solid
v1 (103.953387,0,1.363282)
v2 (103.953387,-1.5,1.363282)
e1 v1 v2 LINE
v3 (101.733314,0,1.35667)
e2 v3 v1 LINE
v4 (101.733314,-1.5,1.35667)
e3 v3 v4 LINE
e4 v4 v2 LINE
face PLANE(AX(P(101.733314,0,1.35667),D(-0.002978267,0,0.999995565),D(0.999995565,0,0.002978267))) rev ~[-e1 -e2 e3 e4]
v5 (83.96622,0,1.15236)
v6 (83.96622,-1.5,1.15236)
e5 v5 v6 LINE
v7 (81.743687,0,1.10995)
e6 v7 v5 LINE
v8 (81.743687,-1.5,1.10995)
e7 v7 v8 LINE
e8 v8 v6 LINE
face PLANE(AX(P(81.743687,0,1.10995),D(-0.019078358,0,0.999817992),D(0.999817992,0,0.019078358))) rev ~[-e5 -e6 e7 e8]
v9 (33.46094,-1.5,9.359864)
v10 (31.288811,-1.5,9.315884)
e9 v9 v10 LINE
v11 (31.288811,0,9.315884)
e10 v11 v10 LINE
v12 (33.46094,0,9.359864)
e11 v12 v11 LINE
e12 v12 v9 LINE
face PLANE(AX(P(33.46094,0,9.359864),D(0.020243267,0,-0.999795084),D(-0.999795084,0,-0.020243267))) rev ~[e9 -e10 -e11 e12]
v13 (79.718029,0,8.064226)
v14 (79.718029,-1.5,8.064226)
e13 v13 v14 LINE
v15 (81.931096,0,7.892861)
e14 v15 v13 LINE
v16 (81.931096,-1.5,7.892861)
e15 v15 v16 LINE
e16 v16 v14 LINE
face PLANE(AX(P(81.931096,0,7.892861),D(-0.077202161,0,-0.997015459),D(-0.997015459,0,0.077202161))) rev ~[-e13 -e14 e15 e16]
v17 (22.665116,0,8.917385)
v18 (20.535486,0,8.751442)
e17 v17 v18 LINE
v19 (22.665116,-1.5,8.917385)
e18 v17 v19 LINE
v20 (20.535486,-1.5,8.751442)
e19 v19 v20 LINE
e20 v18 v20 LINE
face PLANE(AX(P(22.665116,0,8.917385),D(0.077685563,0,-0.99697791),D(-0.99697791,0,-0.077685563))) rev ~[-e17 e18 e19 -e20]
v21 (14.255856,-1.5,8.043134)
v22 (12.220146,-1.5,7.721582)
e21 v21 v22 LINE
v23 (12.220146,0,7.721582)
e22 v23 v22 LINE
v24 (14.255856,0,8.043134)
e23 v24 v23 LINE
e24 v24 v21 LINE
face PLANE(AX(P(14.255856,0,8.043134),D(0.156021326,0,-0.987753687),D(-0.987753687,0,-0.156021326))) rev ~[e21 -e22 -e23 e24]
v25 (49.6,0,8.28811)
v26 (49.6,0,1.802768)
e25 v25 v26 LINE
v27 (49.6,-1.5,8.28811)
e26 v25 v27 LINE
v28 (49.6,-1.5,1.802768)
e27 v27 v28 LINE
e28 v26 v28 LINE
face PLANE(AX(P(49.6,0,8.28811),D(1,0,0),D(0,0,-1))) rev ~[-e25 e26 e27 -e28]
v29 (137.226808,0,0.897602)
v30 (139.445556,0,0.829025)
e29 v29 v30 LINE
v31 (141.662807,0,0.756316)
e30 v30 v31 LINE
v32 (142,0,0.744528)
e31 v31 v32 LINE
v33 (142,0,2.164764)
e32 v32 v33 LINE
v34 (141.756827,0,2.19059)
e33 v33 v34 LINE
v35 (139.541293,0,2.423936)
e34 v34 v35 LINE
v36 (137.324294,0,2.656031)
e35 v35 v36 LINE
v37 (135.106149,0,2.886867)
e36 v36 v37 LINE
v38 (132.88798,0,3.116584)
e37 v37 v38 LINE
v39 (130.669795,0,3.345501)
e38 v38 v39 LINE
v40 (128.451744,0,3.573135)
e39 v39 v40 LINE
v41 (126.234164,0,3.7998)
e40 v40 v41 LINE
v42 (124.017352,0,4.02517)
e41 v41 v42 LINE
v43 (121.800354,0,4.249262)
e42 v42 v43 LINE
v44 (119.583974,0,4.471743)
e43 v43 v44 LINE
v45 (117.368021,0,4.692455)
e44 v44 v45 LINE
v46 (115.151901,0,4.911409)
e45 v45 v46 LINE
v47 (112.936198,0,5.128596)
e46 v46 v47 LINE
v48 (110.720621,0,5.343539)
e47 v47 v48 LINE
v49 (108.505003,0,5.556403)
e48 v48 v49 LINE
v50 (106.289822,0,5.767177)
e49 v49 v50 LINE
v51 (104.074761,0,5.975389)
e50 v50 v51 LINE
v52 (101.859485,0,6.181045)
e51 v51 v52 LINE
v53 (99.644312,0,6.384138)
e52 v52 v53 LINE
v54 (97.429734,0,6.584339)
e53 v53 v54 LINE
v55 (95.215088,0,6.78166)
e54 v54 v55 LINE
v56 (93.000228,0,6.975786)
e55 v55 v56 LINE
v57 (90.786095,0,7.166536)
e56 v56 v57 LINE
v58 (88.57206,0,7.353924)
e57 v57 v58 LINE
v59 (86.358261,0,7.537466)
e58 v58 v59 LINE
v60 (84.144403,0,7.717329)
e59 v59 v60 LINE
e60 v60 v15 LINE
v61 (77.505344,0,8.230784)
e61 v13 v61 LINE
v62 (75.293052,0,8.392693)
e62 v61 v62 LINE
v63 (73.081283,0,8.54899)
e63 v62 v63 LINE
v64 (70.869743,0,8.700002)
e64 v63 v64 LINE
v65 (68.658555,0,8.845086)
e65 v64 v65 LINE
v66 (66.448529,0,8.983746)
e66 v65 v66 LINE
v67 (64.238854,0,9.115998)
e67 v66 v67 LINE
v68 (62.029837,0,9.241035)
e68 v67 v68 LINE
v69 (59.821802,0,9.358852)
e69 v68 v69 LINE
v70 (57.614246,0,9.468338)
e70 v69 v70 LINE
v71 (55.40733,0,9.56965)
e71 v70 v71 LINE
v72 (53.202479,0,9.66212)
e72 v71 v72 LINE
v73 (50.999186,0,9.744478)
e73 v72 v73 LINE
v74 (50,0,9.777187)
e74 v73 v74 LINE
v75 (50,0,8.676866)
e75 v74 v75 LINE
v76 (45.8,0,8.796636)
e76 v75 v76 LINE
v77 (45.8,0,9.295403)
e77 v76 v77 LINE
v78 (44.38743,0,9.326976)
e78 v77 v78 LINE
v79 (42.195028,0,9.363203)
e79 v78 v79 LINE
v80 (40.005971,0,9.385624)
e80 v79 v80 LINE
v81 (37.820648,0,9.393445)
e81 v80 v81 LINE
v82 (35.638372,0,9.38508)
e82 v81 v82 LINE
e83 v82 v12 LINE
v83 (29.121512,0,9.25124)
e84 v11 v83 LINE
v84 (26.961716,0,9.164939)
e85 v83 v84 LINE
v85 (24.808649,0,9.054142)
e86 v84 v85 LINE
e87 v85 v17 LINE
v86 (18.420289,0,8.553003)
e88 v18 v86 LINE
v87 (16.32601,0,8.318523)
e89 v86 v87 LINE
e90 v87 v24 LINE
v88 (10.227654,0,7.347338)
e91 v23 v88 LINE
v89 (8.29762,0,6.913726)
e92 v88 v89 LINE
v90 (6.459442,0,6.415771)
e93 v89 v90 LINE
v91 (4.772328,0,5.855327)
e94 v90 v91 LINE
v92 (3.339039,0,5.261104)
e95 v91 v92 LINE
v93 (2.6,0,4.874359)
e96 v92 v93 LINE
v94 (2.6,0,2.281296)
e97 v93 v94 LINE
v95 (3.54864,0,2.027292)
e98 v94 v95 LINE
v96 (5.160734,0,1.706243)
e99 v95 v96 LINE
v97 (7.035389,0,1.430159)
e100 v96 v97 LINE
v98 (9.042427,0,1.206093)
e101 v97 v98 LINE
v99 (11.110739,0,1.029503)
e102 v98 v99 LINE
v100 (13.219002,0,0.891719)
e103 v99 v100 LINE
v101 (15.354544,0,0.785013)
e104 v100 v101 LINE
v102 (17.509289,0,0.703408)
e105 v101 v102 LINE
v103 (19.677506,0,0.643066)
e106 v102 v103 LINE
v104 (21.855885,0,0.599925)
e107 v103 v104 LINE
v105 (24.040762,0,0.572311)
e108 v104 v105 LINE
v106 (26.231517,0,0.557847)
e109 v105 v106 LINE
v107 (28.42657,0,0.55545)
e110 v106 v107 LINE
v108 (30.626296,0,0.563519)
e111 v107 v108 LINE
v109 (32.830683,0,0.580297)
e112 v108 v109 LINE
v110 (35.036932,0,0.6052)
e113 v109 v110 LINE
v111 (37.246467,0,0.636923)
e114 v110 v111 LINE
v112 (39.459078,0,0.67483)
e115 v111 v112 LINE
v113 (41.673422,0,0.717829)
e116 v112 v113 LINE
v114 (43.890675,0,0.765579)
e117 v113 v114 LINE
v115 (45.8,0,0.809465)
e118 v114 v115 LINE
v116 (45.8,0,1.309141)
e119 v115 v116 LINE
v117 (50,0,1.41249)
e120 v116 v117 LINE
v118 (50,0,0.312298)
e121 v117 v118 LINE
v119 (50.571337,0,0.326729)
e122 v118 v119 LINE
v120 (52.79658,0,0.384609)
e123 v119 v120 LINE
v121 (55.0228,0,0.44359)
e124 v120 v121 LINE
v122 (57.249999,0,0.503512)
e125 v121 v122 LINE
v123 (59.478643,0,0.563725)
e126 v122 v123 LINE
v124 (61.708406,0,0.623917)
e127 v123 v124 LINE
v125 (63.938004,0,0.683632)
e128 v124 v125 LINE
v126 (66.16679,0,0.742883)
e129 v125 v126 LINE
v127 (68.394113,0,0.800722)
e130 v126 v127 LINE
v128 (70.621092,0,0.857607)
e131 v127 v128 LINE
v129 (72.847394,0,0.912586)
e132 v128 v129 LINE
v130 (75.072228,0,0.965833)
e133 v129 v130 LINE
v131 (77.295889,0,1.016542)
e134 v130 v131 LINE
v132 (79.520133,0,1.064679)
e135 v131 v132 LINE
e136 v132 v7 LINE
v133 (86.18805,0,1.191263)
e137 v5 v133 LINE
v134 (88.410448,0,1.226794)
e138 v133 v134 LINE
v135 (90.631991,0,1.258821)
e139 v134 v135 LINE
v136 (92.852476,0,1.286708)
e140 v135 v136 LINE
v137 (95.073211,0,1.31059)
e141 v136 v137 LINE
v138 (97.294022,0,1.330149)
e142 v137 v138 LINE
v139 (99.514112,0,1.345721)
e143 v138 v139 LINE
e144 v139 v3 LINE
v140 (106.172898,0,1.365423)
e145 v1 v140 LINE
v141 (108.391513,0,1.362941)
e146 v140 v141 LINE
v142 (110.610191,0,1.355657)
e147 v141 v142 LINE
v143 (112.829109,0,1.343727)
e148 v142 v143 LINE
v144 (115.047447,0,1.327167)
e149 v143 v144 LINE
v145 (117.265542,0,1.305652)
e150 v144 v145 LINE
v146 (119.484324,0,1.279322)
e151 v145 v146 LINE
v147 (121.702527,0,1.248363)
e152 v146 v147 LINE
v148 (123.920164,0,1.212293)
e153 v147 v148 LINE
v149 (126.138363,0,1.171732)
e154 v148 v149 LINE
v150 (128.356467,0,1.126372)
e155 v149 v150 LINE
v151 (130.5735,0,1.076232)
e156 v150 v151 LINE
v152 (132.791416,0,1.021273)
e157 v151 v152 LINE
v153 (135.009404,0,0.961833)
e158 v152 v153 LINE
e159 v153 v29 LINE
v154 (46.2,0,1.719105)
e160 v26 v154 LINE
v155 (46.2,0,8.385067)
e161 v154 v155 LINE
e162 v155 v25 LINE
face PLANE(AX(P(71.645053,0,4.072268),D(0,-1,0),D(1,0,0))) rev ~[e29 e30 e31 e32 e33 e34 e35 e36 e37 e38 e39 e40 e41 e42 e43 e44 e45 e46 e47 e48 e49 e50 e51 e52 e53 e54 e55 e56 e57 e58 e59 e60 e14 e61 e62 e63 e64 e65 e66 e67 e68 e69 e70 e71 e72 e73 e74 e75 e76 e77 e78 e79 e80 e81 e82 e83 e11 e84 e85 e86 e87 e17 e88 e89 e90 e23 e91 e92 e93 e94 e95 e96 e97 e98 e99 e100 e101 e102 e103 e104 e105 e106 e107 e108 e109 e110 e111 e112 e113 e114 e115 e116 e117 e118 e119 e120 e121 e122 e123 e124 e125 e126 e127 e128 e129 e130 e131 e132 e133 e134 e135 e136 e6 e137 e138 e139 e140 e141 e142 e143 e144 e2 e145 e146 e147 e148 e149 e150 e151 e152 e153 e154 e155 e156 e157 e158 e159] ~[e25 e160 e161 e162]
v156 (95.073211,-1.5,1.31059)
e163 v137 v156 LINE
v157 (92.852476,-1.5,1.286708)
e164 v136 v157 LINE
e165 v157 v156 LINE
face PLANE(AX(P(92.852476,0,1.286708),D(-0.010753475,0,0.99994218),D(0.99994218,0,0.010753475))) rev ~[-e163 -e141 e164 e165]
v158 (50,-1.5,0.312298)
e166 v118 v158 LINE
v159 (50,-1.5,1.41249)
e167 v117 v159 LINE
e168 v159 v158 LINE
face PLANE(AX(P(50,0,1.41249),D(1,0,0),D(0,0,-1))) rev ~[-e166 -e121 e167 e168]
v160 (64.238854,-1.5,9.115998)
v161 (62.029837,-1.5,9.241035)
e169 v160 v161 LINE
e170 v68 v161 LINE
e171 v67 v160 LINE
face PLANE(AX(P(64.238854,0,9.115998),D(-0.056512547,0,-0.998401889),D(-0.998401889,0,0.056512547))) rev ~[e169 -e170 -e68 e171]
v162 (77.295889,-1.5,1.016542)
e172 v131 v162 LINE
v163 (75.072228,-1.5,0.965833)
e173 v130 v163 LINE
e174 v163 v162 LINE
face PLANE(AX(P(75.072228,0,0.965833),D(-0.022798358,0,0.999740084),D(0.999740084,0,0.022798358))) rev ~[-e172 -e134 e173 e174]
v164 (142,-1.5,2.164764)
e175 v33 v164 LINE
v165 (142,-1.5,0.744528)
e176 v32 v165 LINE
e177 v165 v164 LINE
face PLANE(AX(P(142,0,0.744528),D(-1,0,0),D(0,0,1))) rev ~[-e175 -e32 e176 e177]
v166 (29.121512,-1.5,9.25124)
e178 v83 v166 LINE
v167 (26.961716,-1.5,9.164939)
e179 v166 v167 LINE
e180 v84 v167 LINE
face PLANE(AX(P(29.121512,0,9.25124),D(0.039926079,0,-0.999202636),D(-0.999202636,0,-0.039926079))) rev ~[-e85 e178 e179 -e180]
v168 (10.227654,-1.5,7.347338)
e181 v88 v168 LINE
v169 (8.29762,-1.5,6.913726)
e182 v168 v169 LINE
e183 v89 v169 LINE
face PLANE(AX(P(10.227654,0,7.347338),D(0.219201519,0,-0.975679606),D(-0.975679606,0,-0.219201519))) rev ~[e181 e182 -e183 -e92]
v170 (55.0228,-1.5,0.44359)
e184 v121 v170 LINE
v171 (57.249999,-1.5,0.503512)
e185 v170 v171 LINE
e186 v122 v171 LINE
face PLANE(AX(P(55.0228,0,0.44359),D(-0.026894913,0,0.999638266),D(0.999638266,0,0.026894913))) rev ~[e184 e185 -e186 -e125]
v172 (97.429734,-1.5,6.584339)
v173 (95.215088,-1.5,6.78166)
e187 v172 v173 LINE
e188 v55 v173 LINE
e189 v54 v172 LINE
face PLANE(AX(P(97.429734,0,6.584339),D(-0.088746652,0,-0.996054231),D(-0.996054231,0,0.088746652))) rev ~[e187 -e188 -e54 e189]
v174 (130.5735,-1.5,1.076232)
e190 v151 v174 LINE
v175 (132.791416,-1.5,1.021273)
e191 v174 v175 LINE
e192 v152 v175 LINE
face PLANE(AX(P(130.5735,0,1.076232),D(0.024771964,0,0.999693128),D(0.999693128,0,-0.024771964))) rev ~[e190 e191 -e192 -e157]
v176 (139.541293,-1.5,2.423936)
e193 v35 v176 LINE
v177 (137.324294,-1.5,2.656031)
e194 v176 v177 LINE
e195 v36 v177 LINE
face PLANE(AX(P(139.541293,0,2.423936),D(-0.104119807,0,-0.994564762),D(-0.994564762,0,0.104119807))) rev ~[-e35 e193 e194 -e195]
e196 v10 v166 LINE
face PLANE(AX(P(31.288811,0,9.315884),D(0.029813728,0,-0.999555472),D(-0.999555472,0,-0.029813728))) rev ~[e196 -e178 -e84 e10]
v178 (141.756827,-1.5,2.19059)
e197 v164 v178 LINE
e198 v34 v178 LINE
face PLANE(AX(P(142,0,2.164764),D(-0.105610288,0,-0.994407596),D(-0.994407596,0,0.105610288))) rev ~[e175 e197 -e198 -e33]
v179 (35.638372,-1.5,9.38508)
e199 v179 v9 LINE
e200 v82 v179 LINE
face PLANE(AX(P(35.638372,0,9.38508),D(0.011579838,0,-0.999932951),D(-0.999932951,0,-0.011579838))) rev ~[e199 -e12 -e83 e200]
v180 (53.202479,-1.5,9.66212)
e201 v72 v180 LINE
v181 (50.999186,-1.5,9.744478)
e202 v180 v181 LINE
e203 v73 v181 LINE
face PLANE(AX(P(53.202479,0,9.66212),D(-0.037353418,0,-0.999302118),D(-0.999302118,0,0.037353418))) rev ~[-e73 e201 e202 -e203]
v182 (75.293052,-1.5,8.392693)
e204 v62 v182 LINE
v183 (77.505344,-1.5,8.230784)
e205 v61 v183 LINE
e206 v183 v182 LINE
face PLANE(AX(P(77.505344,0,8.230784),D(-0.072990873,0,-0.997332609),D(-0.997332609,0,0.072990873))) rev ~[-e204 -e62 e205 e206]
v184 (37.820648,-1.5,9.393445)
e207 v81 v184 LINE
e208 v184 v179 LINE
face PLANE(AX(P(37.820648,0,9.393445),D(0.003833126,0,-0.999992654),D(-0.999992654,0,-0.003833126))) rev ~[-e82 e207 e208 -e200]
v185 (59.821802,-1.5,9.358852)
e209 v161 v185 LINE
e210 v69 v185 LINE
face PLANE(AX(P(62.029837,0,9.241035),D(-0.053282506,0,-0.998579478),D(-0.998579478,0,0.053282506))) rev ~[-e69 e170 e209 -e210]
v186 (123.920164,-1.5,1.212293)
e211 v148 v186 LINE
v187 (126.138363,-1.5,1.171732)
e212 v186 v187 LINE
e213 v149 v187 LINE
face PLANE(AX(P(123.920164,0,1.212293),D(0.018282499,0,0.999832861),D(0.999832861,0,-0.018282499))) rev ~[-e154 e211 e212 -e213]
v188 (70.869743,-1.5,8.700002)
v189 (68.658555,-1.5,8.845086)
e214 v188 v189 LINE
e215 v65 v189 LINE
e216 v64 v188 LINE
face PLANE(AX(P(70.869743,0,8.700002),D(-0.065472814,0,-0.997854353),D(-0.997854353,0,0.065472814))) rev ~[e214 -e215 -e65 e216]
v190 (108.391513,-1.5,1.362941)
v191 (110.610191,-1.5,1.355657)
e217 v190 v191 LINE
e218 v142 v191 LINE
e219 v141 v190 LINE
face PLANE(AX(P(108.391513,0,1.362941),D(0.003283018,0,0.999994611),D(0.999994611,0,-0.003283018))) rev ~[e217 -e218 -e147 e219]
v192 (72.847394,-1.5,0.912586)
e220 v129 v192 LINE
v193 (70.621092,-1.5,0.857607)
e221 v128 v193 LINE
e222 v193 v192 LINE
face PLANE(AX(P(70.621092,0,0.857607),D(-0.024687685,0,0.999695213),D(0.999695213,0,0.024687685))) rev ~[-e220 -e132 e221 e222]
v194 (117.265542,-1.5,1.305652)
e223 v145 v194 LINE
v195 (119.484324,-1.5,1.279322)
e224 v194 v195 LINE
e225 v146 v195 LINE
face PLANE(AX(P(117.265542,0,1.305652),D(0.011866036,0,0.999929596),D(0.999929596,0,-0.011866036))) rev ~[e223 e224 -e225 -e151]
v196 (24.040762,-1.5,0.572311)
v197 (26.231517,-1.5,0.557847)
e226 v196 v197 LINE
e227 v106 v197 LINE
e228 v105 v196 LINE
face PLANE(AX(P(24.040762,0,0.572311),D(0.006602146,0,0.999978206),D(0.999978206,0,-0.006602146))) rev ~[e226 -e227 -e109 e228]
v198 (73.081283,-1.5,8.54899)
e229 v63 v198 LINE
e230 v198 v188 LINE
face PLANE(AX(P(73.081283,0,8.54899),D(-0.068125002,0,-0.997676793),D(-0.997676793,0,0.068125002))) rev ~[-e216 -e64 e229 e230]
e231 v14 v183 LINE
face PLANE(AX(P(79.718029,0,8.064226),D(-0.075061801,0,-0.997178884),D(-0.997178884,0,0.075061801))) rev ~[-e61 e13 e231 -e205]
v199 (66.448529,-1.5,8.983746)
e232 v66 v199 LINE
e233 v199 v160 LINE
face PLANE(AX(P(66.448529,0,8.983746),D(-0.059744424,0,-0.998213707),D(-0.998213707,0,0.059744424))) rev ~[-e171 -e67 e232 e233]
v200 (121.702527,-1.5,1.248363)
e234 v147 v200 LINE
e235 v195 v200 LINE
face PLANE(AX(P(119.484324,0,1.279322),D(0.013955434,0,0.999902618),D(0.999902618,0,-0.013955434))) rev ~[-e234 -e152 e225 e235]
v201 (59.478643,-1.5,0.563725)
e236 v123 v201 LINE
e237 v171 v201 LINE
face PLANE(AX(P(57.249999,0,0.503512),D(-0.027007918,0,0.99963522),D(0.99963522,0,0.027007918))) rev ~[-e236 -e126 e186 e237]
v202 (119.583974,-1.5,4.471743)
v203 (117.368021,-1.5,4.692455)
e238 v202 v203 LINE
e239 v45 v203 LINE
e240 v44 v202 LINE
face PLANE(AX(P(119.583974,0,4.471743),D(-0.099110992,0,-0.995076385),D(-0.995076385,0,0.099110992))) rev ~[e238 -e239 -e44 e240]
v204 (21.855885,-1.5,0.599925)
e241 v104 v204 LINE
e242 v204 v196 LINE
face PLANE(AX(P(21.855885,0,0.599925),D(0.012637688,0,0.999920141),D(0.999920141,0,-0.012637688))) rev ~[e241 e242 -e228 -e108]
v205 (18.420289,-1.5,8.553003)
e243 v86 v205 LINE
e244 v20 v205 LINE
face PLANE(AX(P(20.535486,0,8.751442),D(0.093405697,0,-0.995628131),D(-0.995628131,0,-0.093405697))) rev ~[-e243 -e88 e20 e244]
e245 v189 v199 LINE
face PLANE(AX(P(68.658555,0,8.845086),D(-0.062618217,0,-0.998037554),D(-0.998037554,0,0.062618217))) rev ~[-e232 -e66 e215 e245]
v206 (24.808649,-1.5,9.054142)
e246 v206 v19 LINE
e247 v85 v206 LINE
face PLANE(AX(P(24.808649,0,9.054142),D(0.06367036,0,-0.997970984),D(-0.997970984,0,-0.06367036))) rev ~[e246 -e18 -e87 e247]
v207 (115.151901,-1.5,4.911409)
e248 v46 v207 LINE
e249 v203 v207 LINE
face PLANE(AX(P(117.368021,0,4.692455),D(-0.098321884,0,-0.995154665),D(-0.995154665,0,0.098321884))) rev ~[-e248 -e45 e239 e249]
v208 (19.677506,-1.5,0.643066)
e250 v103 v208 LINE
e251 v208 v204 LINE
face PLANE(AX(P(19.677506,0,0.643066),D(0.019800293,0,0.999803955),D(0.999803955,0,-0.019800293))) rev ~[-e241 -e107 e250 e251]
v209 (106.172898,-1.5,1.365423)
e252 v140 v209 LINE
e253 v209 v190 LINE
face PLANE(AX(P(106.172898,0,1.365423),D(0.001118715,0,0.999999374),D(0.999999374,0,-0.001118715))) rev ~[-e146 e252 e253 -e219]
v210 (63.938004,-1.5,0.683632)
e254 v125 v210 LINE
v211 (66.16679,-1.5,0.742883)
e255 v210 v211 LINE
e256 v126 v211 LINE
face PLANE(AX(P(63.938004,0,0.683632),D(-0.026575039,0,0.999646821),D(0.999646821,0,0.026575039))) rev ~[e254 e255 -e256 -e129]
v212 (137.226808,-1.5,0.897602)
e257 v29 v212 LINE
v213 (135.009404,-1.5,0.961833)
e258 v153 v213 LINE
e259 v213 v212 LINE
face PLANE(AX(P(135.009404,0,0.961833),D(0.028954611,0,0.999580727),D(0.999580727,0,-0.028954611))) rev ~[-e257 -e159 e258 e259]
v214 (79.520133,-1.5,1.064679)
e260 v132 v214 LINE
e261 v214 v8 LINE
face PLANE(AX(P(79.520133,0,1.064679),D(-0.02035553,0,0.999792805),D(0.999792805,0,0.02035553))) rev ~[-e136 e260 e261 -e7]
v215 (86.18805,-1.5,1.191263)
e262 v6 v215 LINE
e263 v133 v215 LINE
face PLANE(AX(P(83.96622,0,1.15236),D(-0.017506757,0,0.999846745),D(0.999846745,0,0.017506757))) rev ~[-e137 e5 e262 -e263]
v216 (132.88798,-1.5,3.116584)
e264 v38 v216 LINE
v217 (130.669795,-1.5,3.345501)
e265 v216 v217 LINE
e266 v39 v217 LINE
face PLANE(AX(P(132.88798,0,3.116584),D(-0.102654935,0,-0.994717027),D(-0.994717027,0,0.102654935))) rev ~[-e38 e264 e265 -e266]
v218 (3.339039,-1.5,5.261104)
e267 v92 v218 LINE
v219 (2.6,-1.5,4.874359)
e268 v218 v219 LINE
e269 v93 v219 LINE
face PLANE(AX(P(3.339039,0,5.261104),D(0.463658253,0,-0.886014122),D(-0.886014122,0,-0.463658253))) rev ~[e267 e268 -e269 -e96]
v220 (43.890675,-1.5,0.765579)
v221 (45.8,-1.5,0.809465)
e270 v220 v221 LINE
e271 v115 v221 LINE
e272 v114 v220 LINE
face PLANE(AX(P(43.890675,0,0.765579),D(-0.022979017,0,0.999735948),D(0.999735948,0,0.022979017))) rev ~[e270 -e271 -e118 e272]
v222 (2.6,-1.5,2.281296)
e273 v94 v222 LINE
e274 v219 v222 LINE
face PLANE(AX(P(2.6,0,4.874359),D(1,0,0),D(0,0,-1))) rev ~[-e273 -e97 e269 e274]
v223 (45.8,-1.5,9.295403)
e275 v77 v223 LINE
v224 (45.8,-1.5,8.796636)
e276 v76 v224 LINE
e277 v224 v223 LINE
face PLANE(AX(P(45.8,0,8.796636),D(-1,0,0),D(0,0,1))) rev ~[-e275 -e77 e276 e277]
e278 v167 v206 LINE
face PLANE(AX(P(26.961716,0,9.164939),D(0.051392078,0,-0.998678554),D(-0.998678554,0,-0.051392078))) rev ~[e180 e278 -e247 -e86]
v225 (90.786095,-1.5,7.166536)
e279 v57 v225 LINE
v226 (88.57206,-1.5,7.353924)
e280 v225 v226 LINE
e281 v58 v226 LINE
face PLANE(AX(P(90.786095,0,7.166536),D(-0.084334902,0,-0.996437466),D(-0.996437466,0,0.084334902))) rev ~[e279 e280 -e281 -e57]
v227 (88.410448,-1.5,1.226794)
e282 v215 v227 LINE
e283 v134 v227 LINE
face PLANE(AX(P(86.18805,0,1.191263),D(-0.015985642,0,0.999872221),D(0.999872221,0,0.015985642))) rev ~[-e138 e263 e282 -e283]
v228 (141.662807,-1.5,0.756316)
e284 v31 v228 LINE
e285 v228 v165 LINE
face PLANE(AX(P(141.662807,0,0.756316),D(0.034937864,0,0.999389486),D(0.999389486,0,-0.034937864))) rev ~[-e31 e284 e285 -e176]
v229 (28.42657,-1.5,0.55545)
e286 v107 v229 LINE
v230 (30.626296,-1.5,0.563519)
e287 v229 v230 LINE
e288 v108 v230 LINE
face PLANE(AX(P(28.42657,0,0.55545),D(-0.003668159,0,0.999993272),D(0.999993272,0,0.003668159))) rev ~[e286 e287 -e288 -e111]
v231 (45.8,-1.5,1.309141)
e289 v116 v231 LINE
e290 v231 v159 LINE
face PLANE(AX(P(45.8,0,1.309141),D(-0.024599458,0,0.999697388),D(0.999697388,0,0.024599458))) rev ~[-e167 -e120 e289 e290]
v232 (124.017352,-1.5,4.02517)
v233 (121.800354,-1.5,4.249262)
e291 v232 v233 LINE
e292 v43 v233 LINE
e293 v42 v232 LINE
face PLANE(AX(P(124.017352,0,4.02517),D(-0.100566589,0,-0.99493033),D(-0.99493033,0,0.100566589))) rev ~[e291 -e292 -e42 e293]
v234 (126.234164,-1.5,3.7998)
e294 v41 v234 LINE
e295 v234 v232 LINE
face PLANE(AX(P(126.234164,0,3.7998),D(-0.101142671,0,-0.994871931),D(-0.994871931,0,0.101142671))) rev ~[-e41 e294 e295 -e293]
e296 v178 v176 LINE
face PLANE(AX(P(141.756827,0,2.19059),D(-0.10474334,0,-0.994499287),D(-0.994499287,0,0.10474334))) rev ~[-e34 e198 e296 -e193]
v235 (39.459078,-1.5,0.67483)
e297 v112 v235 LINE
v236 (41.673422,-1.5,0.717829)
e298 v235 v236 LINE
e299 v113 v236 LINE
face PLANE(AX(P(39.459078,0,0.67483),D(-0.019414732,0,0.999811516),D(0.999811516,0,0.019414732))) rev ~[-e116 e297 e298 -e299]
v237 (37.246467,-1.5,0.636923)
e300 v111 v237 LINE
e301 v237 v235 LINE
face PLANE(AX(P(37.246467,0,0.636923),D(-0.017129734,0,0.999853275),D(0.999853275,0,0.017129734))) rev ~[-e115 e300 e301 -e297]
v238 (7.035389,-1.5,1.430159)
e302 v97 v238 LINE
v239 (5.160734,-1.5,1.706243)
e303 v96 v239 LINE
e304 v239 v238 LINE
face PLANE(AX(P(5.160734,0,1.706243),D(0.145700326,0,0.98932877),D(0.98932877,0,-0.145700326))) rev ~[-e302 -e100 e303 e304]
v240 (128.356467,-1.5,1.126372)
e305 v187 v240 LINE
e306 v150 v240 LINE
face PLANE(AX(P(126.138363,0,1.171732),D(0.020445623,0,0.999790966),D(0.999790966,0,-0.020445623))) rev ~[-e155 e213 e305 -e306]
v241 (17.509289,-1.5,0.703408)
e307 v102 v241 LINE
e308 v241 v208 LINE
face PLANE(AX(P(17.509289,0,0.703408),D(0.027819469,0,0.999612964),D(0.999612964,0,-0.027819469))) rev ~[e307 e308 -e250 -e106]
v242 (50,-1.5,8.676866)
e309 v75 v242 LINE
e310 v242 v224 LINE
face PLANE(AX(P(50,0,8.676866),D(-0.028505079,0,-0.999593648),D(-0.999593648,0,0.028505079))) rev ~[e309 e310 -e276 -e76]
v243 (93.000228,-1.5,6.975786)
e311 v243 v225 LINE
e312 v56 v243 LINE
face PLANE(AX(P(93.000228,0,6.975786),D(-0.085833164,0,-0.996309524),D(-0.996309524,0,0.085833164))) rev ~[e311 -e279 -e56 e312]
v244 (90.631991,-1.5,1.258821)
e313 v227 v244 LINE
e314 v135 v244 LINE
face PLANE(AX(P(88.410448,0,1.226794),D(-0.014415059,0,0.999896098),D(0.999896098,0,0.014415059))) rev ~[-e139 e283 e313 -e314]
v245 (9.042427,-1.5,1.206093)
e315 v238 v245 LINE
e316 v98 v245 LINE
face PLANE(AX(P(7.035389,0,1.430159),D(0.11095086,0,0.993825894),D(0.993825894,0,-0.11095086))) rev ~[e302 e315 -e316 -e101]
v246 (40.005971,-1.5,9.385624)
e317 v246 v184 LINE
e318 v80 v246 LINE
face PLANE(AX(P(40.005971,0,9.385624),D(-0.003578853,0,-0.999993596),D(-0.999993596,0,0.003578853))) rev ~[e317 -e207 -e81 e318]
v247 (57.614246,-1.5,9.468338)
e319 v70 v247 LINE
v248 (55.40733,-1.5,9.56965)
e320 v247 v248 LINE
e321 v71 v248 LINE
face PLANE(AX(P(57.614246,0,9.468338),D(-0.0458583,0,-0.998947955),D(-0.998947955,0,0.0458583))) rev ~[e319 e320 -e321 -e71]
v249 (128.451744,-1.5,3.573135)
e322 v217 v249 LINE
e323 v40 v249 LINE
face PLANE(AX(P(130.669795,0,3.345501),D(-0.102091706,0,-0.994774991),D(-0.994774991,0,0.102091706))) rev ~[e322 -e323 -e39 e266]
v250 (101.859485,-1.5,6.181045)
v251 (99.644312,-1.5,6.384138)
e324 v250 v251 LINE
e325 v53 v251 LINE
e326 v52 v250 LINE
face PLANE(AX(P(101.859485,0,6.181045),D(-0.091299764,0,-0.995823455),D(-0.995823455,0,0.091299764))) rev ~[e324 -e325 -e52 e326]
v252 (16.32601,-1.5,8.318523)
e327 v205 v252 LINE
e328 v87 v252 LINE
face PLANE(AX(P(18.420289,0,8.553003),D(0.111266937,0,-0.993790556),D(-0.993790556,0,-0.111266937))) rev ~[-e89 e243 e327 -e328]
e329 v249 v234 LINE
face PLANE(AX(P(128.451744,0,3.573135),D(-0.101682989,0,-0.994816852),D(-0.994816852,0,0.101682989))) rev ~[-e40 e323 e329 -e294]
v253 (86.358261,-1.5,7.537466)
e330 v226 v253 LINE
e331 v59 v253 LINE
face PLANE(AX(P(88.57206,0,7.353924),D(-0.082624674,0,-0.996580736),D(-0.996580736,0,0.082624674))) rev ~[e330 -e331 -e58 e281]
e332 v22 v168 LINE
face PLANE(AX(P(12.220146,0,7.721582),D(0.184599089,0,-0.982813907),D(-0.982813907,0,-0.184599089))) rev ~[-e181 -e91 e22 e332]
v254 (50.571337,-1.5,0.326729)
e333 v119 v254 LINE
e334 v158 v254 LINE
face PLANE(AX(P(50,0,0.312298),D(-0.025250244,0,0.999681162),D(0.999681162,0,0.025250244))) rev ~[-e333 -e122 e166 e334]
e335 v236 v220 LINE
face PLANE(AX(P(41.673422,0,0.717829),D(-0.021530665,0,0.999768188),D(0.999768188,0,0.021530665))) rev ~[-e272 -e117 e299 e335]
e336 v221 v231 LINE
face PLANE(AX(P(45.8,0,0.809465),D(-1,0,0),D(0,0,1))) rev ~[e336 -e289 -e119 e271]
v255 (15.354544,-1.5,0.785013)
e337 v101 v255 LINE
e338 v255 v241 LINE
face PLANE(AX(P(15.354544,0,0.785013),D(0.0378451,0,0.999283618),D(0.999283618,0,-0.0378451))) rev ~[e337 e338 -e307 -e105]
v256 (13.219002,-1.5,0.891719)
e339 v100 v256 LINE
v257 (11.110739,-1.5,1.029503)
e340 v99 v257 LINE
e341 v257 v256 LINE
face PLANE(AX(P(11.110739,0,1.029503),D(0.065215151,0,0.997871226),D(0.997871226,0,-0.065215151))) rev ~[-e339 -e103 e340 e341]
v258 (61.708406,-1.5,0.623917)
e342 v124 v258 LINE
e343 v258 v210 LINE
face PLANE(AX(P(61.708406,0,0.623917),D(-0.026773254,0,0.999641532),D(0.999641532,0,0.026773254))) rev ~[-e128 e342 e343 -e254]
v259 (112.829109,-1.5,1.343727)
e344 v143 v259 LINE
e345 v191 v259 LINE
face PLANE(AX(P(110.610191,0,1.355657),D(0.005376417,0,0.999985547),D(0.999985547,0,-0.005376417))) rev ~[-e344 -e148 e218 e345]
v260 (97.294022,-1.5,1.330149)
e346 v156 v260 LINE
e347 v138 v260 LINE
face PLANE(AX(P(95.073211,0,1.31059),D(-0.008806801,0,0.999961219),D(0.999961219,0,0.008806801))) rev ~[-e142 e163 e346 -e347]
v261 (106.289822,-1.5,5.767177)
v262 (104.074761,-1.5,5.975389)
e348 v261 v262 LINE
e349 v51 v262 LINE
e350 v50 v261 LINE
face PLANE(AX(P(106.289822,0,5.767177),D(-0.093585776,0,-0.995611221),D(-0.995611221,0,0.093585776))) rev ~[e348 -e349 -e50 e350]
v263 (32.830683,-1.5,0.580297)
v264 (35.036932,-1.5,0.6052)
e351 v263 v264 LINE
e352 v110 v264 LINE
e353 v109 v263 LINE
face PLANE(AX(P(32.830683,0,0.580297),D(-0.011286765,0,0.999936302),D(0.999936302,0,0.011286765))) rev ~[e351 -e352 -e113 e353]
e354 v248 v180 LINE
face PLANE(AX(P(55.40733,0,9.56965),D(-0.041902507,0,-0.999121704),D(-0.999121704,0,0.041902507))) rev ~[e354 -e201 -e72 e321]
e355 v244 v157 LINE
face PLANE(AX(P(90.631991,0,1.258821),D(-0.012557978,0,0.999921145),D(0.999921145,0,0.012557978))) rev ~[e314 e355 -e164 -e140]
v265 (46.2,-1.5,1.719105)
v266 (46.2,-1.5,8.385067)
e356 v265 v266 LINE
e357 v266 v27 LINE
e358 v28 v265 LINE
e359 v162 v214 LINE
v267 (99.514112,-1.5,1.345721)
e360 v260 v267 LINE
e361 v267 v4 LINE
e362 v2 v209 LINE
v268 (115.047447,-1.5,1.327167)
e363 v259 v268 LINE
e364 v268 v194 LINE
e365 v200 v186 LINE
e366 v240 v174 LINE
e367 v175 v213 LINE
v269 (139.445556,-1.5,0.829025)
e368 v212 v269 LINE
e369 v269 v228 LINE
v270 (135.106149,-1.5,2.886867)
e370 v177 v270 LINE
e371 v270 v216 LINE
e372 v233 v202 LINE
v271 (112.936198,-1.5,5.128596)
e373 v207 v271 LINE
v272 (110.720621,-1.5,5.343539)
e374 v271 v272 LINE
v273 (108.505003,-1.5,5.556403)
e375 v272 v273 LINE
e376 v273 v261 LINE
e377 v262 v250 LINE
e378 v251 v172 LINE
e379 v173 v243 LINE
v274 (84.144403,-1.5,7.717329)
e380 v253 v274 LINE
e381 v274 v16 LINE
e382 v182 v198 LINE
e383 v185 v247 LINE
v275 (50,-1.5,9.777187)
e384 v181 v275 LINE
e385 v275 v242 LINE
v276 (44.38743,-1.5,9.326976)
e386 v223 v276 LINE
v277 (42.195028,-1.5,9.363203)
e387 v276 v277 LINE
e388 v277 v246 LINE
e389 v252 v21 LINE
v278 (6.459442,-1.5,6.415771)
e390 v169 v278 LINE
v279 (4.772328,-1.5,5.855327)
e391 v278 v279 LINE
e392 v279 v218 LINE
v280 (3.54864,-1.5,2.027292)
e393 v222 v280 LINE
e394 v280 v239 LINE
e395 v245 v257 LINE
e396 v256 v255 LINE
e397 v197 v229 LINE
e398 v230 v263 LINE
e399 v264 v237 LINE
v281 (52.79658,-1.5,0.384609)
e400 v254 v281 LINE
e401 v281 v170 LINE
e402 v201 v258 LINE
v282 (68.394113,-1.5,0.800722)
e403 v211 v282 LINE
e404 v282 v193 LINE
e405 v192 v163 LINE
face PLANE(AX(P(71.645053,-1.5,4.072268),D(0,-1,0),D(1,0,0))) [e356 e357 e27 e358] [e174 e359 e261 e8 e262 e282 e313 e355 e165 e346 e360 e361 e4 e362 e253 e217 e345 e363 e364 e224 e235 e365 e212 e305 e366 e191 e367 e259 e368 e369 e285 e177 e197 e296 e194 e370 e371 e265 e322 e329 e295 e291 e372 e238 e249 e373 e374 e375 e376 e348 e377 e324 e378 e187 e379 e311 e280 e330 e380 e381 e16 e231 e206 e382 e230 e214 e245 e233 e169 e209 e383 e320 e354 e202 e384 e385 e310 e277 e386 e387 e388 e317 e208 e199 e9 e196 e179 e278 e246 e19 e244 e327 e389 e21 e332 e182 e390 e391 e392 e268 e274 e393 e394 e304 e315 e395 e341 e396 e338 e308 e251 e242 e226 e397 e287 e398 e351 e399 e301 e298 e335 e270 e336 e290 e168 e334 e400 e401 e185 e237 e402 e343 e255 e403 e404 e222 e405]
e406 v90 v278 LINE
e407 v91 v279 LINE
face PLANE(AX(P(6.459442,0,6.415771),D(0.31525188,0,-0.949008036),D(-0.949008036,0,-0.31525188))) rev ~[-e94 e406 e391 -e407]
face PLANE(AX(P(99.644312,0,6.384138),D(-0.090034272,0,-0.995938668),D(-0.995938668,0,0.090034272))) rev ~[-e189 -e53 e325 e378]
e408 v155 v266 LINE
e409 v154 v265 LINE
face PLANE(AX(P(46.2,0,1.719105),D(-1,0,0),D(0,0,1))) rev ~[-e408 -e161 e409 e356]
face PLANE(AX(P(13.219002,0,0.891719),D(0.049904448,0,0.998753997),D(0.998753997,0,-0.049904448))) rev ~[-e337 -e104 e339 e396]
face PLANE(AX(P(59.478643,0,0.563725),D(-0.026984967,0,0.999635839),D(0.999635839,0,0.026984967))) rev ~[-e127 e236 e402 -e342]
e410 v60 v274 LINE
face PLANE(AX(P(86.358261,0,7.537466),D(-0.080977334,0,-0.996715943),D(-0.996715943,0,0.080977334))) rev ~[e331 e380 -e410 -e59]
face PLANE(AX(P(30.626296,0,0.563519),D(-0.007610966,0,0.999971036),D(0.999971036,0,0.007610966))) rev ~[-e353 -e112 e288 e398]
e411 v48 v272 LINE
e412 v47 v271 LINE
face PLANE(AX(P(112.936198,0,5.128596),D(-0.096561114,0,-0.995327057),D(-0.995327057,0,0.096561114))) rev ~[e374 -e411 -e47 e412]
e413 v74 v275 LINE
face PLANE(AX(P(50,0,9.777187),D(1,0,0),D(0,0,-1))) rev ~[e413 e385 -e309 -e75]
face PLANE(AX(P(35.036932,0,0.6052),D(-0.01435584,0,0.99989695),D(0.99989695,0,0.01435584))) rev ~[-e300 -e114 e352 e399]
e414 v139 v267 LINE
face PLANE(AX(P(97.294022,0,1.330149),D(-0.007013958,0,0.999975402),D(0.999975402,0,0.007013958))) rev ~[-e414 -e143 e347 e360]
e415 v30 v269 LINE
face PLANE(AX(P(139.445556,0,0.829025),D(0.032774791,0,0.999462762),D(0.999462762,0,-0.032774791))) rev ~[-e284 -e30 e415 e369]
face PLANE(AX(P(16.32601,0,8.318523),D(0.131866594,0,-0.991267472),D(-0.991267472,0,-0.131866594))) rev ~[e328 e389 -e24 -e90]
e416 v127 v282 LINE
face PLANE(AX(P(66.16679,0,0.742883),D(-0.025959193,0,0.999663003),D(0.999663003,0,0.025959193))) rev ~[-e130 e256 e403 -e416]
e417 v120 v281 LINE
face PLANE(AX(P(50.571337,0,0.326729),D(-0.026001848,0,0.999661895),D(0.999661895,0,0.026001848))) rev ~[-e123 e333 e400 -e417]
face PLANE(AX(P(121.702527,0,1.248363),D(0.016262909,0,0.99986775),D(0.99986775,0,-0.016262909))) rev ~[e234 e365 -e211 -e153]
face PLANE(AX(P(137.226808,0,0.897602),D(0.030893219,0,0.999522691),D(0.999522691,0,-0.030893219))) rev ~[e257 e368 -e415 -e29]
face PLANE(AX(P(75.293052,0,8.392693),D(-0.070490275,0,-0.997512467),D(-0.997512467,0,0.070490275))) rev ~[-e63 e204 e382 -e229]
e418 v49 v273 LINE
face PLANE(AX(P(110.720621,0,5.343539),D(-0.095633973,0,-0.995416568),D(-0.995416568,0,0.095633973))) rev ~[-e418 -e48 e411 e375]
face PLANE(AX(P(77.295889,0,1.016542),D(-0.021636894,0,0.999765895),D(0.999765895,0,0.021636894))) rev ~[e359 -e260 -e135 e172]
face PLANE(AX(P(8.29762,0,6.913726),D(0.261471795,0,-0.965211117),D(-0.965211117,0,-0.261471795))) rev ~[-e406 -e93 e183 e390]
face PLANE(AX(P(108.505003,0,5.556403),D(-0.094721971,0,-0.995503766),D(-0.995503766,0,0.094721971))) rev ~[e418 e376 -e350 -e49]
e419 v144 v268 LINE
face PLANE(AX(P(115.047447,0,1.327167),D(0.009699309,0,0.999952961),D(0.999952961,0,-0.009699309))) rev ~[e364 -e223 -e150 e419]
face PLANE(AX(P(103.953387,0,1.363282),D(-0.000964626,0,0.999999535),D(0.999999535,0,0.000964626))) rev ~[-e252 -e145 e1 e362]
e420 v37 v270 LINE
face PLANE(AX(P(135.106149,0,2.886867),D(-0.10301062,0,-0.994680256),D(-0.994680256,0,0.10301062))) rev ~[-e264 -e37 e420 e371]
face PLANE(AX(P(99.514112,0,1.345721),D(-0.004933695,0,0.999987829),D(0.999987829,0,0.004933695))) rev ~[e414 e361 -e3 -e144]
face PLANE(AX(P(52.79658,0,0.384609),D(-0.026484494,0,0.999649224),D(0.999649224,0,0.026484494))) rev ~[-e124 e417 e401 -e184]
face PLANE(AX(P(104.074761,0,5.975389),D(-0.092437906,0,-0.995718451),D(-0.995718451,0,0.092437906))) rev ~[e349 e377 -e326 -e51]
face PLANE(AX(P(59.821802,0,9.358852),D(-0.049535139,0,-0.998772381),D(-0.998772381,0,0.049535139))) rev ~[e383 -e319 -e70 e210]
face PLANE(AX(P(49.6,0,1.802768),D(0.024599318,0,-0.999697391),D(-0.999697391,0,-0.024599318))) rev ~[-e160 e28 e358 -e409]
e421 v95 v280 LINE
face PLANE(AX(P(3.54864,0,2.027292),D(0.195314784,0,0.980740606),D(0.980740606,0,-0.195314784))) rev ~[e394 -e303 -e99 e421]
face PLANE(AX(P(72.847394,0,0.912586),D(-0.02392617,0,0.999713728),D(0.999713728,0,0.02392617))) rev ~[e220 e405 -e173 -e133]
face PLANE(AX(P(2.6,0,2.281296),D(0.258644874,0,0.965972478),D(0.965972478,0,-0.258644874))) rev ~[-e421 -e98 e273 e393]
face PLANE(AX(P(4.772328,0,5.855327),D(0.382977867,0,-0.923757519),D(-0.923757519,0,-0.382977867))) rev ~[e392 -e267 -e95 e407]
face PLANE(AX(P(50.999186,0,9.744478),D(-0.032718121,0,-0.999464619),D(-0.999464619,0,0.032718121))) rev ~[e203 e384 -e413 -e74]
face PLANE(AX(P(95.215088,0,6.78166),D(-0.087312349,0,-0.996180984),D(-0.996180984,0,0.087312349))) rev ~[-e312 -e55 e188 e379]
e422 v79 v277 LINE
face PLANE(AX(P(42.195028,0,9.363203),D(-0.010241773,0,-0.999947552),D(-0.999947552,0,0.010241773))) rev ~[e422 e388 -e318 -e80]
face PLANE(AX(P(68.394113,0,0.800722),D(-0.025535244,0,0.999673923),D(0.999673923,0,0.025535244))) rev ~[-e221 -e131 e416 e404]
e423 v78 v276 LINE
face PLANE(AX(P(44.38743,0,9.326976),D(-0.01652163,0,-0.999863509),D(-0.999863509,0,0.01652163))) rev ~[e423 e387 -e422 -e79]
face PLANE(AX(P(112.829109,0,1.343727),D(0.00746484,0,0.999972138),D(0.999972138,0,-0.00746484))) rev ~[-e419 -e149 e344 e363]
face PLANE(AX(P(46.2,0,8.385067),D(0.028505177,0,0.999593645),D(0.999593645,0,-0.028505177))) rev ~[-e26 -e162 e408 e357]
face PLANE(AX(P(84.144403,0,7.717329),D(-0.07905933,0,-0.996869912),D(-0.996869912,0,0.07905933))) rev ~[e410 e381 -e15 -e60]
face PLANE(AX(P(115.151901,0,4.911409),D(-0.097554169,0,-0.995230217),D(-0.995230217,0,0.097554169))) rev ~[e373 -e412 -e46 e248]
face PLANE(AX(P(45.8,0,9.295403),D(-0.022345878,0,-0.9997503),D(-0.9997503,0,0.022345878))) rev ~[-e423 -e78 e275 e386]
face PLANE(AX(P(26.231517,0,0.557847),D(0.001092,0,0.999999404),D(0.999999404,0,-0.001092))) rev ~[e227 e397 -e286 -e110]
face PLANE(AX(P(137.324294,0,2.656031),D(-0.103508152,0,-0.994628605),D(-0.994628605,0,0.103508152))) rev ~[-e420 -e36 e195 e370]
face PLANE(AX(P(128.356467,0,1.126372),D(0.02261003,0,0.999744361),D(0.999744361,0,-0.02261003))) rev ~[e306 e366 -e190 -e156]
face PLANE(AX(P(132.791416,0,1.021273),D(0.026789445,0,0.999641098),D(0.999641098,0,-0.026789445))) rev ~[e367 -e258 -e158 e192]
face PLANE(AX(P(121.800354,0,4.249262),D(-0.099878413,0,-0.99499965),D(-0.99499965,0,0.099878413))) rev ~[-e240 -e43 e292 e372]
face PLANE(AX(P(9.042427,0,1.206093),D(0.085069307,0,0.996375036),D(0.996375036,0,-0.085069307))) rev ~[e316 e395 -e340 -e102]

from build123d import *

# Parameters (mm, degrees)
F1_DEPTH = 1.5


with BuildPart() as f1:
    # F0 (on Front) → F1 (new body)
    with BuildSketch(Plane.XZ):
        Polygon((142, 0.744528), (142, 2.164764), (141.756827, 2.19059), (139.541293, 2.423936), (137.324294, 2.656031), (135.106149, 2.886867), (132.88798, 3.116584), (130.669795, 3.345501), (128.451744, 3.573135), (126.234164, 3.7998), (124.017352, 4.02517), (121.800354, 4.249262), (119.583974, 4.471743), (117.368021, 4.692455), (115.151901, 4.911409), (112.936198, 5.128596), (110.720621, 5.343539), (108.505003, 5.556403), (106.289822, 5.767177), (104.074761, 5.975389), (101.859485, 6.181045), (99.644312, 6.384138), (97.429734, 6.584339), (95.215088, 6.78166), (93.000228, 6.975786), (90.786095, 7.166536), (88.57206, 7.353924), (86.358261, 7.537466), (84.144403, 7.717329), (81.931096, 7.892861), (79.718029, 8.064226), (77.505344, 8.230784), (75.293052, 8.392693), (73.081283, 8.54899), (70.869743, 8.700002), (68.658555, 8.845086), (66.448529, 8.983746), (64.238854, 9.115998), (62.029837, 9.241035), (59.821802, 9.358852), (57.614246, 9.468338), (55.40733, 9.56965), (53.202479, 9.66212), (50.999186, 9.744478), (50, 9.777187), (50, 9.176866), (50, 8.676866), (45.8, 8.796636), (45.8, 9.295403), (44.38743, 9.326976), (42.195028, 9.363203), (40.005971, 9.385624), (37.820648, 9.393445), (35.638372, 9.38508), (33.46094, 9.359864), (31.288811, 9.315884), (29.121512, 9.25124), (26.961716, 9.164939), (24.808649, 9.054142), (22.665116, 8.917385), (20.535486, 8.751442), (18.420289, 8.553003), (16.32601, 8.318523), (14.255856, 8.043134), (12.220146, 7.721582), (10.227654, 7.347338), (8.29762, 6.913726), (6.459442, 6.415771), (4.772328, 5.855327), (3.339039, 5.261104), (2.6, 4.874359), (2.6, 2.281296), (3.54864, 2.027292), (5.160734, 1.706243), (7.035389, 1.430159), (9.042427, 1.206093), (11.110739, 1.029503), (13.219002, 0.891719), (15.354544, 0.785013), (17.509289, 0.703408), (19.677506, 0.643066), (21.855885, 0.599925), (24.040762, 0.572311), (26.231517, 0.557847), (28.42657, 0.55545), (30.626296, 0.563519), (32.830683, 0.580297), (35.036932, 0.6052), (37.246467, 0.636923), (39.459078, 0.67483), (41.673422, 0.717829), (43.890675, 0.765579), (45.8, 0.809465), (45.8, 1.309141), (50, 1.41249), (50, 0.91249), (50, 0.312298), (50.571337, 0.326729), (52.79658, 0.384609), (55.0228, 0.44359), (57.249999, 0.503512), (59.478643, 0.563725), (61.708406, 0.623917), (63.938004, 0.683632), (66.16679, 0.742883), (68.394113, 0.800722), (70.621092, 0.857607), (72.847394, 0.912586), (75.072228, 0.965833), (77.295889, 1.016542), (79.520133, 1.064679), (81.743687, 1.10995), (83.96622, 1.15236), (86.18805, 1.191263), (88.410448, 1.226794), (90.631991, 1.258821), (92.852476, 1.286708), (95.073211, 1.31059), (97.294022, 1.330149), (99.514112, 1.345721), (101.733314, 1.35667), (103.953387, 1.363282), (106.172898, 1.365423), (108.391513, 1.362941), (110.610191, 1.355657), (112.829109, 1.343727), (115.047447, 1.327167), (117.265542, 1.305652), (119.484324, 1.279322), (121.702527, 1.248363), (123.920164, 1.212293), (126.138363, 1.171732), (128.356467, 1.126372), (130.5735, 1.076232), (132.791416, 1.021273), (135.009404, 0.961833), (137.226808, 0.897602), (139.445556, 0.829025), (141.662807, 0.756316), align=None)
        Polygon((46.2, 1.719105), (46.2, 8.385067), (49.6, 8.28811), (49.6, 1.802768), align=None, mode=Mode.SUBTRACT)
    extrude(amount=F1_DEPTH)


solid = f1.part
